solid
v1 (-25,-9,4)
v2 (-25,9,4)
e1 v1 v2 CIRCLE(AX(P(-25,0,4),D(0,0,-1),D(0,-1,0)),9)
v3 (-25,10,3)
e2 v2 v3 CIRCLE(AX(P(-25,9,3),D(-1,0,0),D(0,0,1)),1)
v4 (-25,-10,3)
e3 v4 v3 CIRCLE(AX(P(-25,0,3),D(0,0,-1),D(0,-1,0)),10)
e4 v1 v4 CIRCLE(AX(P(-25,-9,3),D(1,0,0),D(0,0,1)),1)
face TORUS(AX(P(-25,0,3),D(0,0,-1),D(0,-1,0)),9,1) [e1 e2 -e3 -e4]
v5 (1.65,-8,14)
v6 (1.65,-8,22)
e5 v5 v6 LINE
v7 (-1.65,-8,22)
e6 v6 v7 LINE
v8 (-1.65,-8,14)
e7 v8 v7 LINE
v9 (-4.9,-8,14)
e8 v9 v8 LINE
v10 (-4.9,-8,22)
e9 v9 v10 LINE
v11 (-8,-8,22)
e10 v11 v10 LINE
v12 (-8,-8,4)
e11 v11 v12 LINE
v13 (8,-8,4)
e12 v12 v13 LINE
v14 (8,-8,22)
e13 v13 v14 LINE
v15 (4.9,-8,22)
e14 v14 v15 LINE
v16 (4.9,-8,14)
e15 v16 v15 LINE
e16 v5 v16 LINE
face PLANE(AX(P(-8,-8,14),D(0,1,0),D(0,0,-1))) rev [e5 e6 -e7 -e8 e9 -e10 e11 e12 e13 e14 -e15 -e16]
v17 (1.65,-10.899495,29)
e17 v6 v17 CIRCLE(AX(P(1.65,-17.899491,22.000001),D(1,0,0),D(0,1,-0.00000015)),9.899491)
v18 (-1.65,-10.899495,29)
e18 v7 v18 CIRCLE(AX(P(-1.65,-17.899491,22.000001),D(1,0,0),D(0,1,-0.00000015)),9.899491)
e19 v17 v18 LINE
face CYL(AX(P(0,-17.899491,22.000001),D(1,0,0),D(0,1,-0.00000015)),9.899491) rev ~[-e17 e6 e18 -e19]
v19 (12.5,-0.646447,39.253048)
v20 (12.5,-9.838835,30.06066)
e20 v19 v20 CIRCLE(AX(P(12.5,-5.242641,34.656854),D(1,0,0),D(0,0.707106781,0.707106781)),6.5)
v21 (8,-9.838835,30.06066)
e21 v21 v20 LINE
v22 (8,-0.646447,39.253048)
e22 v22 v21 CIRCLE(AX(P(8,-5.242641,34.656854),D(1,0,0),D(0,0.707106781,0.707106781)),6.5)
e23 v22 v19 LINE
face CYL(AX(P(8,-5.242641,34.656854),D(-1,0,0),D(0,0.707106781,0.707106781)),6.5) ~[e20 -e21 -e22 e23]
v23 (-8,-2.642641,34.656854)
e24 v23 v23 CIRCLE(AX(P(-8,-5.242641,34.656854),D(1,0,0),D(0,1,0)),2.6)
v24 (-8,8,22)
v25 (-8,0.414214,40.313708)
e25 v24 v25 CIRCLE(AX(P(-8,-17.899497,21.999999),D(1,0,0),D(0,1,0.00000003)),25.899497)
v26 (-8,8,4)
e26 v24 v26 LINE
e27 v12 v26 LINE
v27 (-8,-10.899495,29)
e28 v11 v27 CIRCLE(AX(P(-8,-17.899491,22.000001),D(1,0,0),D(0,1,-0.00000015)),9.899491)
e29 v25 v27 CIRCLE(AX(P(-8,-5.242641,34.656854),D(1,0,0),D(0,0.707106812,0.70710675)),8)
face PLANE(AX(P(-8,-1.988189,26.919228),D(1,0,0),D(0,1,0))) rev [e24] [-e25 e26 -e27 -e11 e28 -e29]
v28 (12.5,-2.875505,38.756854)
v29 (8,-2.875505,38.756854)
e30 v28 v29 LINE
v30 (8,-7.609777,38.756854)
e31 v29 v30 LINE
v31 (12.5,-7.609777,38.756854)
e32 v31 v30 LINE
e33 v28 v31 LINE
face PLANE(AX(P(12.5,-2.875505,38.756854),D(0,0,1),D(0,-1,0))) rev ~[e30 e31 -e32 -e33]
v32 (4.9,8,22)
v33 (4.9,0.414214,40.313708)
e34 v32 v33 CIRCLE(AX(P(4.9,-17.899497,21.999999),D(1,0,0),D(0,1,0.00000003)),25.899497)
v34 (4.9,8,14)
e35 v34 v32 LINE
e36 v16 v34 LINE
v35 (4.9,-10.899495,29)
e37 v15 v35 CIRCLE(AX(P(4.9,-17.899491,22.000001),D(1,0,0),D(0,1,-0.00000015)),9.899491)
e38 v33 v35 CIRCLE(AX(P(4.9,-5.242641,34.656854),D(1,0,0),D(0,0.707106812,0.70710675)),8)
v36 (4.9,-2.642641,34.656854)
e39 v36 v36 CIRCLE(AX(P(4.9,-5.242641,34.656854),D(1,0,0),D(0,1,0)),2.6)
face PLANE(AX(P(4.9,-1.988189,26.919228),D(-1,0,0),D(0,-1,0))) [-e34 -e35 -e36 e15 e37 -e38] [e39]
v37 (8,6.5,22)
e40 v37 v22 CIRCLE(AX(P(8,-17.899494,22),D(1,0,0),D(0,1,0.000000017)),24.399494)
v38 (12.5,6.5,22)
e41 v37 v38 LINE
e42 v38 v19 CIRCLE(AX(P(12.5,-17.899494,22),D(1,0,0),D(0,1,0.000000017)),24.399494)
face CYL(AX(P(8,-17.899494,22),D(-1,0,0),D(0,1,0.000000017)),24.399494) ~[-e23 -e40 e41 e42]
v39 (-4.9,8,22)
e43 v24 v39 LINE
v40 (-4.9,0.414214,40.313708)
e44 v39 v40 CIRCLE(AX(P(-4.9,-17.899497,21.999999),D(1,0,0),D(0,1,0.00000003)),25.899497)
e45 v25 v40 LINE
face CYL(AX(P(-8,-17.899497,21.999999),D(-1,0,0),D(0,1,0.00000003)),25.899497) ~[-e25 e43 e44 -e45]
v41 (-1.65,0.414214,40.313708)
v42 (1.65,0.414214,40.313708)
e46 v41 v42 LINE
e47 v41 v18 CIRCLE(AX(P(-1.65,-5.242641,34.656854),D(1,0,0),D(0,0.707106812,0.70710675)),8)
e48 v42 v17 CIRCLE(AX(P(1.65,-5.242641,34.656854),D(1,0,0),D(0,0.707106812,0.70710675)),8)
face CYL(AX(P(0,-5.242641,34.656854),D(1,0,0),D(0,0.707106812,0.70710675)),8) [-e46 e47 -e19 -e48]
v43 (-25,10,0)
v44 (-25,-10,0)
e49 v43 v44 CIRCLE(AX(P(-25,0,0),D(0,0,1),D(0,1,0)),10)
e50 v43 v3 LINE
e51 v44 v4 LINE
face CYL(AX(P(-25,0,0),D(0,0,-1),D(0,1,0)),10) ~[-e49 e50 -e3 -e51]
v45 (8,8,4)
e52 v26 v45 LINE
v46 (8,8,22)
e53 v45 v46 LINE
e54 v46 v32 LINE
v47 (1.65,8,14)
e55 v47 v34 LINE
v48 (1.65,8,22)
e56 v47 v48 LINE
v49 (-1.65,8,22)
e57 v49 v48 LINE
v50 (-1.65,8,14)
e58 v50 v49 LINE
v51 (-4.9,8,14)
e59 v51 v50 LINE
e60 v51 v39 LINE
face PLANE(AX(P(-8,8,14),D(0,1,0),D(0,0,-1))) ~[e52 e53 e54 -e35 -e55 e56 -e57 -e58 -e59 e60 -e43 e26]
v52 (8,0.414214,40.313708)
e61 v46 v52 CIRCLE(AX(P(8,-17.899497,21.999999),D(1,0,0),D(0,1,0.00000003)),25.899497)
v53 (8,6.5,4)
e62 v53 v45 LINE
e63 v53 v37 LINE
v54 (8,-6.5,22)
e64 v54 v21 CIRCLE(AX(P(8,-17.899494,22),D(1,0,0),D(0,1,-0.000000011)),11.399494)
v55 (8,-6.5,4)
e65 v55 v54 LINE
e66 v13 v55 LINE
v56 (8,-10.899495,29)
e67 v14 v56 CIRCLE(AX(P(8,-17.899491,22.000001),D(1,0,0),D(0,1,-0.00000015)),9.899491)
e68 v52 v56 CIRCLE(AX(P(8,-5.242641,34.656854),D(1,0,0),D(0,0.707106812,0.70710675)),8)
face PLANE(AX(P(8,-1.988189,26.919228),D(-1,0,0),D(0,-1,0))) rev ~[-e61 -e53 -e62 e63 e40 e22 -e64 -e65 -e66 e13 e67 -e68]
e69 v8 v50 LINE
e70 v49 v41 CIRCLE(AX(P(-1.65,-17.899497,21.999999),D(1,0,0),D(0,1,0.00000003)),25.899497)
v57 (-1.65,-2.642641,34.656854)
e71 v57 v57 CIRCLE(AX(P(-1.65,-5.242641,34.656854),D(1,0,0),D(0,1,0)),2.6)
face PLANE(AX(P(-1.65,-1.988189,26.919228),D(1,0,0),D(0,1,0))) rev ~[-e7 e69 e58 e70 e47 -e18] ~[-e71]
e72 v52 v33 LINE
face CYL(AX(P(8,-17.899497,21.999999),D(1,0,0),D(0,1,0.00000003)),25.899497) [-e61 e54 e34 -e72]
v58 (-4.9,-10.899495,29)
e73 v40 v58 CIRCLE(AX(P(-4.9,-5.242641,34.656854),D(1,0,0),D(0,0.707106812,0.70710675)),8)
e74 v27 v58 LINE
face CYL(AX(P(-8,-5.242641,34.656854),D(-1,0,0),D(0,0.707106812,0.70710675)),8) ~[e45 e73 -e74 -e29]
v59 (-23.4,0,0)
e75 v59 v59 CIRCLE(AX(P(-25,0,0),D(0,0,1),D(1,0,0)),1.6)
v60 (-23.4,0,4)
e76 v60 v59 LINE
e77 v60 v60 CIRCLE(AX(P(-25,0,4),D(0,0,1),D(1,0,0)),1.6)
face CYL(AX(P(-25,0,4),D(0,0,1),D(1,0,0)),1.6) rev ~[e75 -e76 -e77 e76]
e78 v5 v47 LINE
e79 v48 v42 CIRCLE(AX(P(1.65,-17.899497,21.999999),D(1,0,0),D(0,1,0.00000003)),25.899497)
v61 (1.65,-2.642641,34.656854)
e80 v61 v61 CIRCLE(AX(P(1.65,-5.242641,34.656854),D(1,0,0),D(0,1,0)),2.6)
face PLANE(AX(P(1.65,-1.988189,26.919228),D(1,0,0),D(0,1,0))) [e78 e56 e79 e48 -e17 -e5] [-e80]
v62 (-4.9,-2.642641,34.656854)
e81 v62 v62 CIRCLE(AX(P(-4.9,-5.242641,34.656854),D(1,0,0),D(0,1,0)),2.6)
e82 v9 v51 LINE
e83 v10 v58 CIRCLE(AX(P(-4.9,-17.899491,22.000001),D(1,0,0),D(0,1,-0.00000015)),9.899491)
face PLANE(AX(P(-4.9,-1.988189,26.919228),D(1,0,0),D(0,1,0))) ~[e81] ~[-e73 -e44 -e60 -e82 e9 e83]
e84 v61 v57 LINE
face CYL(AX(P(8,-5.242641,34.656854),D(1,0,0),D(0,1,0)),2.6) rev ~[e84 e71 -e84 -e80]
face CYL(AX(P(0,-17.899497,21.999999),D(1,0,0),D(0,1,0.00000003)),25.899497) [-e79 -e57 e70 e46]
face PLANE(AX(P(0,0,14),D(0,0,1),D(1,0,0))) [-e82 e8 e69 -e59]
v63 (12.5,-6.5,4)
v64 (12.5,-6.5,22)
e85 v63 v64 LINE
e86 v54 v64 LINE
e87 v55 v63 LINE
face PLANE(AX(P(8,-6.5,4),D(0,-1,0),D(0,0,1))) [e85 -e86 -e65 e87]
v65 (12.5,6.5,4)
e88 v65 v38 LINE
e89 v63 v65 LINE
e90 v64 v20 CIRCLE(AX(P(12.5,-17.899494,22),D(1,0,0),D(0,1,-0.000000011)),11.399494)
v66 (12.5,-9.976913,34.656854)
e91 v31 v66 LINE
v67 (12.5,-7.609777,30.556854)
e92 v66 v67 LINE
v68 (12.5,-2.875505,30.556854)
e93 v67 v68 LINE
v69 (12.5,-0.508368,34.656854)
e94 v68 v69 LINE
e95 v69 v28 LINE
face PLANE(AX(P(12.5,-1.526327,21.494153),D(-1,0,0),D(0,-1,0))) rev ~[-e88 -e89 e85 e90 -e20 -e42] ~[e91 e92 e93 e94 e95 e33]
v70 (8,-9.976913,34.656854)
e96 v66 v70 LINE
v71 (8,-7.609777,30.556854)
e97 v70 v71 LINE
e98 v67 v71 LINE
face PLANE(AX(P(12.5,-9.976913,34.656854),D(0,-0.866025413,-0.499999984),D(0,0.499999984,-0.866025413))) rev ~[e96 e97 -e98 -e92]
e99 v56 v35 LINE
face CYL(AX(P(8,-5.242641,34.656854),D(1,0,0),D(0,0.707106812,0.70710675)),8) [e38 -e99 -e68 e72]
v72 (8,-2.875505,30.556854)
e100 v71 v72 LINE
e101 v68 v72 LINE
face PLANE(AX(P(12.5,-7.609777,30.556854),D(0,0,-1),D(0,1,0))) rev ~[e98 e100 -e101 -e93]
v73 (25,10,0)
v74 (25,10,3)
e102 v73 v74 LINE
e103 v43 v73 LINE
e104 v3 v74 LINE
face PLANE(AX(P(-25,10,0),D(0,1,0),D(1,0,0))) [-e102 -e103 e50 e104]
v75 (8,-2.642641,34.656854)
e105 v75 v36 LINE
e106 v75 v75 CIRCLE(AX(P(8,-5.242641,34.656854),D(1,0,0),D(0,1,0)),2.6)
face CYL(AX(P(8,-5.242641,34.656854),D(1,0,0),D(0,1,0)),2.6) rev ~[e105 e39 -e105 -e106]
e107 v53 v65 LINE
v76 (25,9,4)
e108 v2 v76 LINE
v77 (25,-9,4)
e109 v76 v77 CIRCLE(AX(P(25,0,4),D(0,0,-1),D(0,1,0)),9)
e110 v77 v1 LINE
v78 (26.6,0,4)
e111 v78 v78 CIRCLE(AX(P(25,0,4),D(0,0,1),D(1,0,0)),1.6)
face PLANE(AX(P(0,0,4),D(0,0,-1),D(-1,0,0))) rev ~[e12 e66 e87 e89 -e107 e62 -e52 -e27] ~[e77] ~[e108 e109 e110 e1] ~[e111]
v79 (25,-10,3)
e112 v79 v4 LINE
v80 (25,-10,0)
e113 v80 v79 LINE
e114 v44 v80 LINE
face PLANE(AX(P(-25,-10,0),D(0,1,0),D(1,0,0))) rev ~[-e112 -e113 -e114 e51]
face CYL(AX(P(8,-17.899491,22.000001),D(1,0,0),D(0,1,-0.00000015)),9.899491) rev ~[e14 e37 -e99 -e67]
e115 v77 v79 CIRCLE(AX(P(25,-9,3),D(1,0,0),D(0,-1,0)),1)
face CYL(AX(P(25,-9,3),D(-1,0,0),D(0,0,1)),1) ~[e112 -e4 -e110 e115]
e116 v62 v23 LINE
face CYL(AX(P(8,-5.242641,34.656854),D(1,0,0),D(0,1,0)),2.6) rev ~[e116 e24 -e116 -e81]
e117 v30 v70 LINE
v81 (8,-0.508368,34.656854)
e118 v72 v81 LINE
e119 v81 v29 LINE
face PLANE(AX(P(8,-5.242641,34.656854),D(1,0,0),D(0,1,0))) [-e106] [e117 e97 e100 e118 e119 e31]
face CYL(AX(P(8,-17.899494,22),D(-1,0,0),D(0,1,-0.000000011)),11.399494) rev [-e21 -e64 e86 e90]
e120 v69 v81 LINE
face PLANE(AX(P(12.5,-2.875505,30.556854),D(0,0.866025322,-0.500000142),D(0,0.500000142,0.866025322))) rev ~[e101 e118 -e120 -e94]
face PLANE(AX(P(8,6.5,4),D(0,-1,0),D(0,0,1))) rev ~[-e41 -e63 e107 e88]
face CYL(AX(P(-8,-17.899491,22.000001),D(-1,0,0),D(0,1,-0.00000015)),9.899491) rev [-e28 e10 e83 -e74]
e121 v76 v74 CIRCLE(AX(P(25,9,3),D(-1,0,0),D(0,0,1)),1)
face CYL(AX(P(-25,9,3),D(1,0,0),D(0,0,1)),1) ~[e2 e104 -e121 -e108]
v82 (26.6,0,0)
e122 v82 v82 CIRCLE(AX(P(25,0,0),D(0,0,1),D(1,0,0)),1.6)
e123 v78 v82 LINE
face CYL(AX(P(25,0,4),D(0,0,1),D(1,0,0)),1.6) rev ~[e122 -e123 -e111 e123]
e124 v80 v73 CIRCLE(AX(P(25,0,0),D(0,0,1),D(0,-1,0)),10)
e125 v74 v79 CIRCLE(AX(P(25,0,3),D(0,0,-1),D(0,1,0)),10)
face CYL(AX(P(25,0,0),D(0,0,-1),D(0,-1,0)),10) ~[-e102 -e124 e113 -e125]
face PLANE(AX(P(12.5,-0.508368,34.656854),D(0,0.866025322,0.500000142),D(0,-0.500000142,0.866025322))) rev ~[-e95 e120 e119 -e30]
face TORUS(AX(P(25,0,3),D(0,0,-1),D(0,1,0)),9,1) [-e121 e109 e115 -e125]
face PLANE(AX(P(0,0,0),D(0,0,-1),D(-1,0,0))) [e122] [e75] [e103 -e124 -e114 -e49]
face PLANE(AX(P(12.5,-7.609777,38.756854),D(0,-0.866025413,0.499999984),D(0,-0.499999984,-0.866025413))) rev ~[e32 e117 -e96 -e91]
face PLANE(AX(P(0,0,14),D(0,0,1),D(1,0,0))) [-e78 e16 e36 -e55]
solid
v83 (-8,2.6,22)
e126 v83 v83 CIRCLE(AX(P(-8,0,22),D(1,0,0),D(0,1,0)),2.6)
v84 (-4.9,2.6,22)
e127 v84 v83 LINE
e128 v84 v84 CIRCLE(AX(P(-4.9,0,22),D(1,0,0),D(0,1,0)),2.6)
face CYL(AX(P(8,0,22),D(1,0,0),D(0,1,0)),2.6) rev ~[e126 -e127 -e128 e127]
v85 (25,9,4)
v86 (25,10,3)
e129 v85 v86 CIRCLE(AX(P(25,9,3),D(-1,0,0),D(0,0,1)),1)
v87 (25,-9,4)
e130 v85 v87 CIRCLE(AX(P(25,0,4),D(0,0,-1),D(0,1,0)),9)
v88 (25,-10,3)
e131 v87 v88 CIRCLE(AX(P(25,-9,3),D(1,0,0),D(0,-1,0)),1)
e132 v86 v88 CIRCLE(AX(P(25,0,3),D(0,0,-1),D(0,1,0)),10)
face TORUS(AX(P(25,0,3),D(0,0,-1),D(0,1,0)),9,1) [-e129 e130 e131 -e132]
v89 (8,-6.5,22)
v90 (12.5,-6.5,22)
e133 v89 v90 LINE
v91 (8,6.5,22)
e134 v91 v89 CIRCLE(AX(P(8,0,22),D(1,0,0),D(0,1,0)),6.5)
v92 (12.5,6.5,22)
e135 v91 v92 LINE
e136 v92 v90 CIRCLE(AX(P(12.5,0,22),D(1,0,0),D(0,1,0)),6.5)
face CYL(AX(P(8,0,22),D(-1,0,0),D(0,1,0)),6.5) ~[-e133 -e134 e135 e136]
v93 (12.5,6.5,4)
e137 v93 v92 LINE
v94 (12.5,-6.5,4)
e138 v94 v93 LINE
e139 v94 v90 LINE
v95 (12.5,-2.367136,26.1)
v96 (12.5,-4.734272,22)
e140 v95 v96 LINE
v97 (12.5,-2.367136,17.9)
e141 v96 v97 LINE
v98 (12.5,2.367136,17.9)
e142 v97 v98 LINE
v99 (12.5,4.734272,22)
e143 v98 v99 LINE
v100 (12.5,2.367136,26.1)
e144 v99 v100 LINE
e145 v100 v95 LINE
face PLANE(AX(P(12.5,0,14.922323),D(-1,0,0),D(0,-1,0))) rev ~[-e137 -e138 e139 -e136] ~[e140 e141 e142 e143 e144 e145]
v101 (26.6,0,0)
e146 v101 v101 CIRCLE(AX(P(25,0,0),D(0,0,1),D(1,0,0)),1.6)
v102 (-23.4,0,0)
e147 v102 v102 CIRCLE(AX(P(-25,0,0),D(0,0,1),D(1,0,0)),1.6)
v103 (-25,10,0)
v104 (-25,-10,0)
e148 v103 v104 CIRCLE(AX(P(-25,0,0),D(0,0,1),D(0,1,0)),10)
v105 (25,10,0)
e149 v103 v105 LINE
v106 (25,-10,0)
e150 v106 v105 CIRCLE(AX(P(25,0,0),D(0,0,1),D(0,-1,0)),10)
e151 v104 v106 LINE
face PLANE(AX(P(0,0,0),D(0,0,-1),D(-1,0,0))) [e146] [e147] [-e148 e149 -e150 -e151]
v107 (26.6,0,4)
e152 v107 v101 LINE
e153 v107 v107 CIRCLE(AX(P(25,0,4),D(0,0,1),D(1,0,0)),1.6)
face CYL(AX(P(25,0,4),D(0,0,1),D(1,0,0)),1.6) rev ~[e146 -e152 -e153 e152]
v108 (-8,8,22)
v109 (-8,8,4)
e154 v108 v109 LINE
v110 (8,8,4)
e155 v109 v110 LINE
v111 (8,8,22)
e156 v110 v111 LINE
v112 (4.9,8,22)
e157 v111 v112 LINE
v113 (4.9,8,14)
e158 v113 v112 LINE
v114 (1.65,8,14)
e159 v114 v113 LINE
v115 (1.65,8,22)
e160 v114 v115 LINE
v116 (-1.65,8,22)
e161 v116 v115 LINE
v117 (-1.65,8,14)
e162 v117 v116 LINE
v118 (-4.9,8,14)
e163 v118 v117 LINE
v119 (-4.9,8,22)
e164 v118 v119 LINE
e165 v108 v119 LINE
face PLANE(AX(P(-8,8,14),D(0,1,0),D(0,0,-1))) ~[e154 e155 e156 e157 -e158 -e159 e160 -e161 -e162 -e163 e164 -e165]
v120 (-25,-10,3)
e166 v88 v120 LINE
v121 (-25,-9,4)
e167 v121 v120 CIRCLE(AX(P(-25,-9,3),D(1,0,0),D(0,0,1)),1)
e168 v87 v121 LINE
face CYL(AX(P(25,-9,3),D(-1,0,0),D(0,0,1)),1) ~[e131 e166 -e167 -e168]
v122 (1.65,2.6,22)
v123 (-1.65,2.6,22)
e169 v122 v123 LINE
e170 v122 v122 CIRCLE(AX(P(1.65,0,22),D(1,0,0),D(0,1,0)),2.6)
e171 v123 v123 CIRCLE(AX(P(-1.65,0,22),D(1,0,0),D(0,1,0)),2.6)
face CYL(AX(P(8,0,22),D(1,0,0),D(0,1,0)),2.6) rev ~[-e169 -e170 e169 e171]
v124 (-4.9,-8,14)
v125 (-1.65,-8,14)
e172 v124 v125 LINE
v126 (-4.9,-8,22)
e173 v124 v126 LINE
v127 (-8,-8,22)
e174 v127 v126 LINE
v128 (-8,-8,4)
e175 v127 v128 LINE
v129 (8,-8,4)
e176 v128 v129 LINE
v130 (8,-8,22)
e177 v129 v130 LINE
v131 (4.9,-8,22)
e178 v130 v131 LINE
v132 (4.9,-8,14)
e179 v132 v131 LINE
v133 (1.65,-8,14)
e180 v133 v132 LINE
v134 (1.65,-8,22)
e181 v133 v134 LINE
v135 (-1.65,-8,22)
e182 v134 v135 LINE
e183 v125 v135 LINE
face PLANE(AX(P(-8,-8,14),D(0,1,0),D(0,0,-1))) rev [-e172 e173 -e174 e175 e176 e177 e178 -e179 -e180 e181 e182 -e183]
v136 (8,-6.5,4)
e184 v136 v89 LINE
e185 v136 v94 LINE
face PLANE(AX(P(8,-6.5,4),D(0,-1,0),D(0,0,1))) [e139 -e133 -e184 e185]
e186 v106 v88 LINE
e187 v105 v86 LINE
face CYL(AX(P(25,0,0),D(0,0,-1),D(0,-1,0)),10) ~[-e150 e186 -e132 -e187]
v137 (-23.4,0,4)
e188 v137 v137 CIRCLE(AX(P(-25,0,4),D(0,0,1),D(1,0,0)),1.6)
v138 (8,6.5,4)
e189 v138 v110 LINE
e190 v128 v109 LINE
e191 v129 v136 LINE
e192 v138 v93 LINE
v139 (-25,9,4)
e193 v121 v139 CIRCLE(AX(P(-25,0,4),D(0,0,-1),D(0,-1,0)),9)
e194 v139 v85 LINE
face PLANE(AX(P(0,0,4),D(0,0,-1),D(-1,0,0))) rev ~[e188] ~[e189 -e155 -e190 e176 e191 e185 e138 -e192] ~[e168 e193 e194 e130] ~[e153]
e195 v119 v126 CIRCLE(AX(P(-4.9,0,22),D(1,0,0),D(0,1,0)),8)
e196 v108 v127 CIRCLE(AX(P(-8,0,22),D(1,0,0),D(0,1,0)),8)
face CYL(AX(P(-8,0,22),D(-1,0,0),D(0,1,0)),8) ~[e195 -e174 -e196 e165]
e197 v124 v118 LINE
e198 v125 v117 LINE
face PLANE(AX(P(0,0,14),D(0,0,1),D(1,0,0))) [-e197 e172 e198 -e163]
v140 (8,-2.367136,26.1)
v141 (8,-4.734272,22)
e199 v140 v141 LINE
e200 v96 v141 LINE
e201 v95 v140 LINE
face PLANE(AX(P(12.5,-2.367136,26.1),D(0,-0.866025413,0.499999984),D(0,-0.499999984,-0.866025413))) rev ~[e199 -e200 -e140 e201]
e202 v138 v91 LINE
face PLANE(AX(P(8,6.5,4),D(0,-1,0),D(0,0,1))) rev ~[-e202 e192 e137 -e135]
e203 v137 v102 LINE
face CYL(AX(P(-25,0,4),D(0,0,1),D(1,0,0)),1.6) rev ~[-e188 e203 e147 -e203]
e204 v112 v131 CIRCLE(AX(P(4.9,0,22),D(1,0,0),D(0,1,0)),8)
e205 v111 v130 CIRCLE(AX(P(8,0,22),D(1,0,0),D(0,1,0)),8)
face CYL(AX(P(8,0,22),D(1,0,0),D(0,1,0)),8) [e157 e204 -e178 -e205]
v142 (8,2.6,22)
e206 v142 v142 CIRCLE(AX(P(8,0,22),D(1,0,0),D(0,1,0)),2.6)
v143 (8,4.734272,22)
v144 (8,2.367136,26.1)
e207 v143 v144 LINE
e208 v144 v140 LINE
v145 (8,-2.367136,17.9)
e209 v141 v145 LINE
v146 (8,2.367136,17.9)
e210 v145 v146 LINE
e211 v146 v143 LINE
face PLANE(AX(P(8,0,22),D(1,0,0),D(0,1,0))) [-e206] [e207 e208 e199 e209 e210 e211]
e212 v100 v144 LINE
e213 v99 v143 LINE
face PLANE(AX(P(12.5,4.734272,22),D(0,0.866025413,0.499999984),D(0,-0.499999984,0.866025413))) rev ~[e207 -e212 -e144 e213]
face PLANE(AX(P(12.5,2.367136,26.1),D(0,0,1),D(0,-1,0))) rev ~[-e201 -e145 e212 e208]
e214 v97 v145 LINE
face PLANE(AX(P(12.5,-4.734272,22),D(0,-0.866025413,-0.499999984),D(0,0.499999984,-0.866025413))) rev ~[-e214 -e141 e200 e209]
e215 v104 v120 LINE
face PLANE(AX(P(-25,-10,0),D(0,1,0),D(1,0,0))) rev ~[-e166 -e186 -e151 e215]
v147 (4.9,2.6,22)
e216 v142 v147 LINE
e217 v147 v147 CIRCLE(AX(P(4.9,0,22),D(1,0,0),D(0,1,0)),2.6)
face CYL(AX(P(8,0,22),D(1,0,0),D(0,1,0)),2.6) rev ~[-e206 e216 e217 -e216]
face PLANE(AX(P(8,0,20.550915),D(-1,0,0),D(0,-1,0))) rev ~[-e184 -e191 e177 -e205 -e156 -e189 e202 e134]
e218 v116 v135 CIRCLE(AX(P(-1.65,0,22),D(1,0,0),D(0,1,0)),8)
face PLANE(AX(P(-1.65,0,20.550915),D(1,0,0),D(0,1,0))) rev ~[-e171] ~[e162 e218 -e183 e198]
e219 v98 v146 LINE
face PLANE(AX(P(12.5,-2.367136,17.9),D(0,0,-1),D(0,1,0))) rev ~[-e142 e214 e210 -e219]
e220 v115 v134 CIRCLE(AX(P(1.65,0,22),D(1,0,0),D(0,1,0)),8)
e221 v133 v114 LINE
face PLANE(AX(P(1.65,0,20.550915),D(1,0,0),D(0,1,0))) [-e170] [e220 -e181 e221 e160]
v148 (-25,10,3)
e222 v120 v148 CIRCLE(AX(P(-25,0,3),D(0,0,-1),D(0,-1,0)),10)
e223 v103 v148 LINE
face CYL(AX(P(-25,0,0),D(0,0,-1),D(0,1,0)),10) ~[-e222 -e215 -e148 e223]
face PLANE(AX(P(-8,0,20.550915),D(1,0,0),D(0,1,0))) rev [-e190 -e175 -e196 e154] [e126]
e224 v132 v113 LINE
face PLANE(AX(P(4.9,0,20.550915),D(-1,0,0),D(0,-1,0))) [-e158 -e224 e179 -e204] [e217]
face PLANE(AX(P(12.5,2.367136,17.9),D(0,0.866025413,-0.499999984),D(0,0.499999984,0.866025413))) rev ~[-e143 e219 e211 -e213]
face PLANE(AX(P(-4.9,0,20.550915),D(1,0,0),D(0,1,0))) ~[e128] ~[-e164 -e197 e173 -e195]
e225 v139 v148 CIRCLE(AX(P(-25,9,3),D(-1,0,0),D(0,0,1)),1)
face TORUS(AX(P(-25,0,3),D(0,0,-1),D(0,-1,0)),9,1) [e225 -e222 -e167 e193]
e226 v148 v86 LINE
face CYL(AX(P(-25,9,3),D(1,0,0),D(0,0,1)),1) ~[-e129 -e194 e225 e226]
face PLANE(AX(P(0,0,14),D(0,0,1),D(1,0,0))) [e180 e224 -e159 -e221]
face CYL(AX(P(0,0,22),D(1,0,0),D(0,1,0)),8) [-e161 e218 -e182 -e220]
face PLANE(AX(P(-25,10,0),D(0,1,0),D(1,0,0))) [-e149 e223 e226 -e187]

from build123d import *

# Parameters (mm, degrees)
PAD_DEPTH       = 4
SKETCH001_R     = 1.6
POCKET_DEPTH    = 4.001
SKETCH002_W     = 16
SKETCH002_H     = 16
PAD001_DEPTH    = 10
PAD002_DEPTH    = 3.1
PAD003_DEPTH    = 1.65
SKETCH005_R     = 2.6
POCKET001_DEPTH = 43.001
PAD004_DEPTH    = 4.5
POCKET002_DEPTH = 4.5
FILLET_R        = 1
PAD009_DEPTH    = 4
SKETCH013_R     = 1.6
POCKET004_DEPTH = 4.001
SKETCH014_W     = 16
SKETCH014_H     = 16
PAD008_DEPTH    = 10
PAD007_DEPTH    = 3.1
PAD005_DEPTH    = 1.65
SKETCH010_R     = 2.6
POCKET003_DEPTH = 43.001
PAD006_DEPTH    = 4.5
POCKET005_DEPTH = 4.5
FILLET001_R     = 1


with BuildPart() as straighttwoscrews:
    # Sketch → Pad (new body)
    with BuildSketch(Plane.XY):
        with BuildLine():
            Line((-25, 10), (25, 10))
            ThreePointArc((25, -10), (35, 0), (25, 10))
            Line((-25, -10), (25, -10))
            ThreePointArc((-25, 10), (-35, 0), (-25, -10))
        make_face()
    extrude(amount=PAD_DEPTH)

    # Sketch001 (on Face6 of Pad) → Pocket (cut, through all)
    with BuildSketch(Plane.XY.offset(4)):
        with Locations((-25, 0)):
            Circle(SKETCH001_R)
        with Locations((25, 0)):
            Circle(SKETCH001_R)
    extrude(amount=-POCKET_DEPTH, mode=Mode.SUBTRACT)

    # Sketch002 (on Face5 of Pocket) → Pad001 (join)
    with BuildSketch(Plane.XY.offset(4)):
        Rectangle(SKETCH002_W, SKETCH002_H)
    extrude(amount=PAD001_DEPTH)

    # Sketch003 (on Face9 of Pad001) → Pad002 (join)
    with BuildSketch(Plane.YZ.offset(8)):
        with BuildLine():
            Line((-8, 14), (-8, 22))
            ThreePointArc((8, 22), (0, 30), (-8, 22))
            Line((8, 14), (8, 22))
            Line((-8, 14), (8, 14))
        make_face()
    pad002 = extrude(amount=-PAD002_DEPTH)

    # Mirrored: Pad002 across YZ
    add(pad002.mirror(Plane.YZ))

    # Sketch004 → Pad003 (join, symmetric)
    with BuildSketch(Plane.YZ):
        with BuildLine():
            Line((-8, 14), (8, 14))
            Line((8, 14), (8, 22))
            ThreePointArc((8, 22), (0, 30), (-8, 22))
            Line((-8, 14), (-8, 22))
        make_face()
    extrude(amount=PAD003_DEPTH, both=True)

    # Sketch005 (on Face13 of Pad003) → Pocket001 (cut, through all)
    with BuildSketch(Plane.YZ.offset(8)):
        with Locations((0, 22)):
            Circle(SKETCH005_R)
    extrude(amount=-POCKET001_DEPTH, mode=Mode.SUBTRACT)

    # Sketch006 (on Face9 of Pocket001) → Pad004 (join)
    with BuildSketch(Plane.YZ.offset(8)):
        with BuildLine():
            Line((-6.5, 4), (-6.5, 22))
            ThreePointArc((6.5, 22), (0, 28.5), (-6.5, 22))
            Line((6.5, 4), (6.5, 22))
            Line((-6.5, 4), (6.5, 4))
        make_face()
    extrude(amount=PAD004_DEPTH)

    # Sketch007 (on Face14 of Pad004) → Pocket002 (cut)
    with BuildSketch(Plane.YZ.offset(12.5)):
        Polygon((2.367136, 26.1), (-2.367136, 26.1), (-4.734272, 22), (-2.367136, 17.9), (2.367136, 17.9), (4.734272, 22), align=None)
    extrude(amount=-POCKET002_DEPTH, mode=Mode.SUBTRACT)

    # Fillet
    fillet_edges = [straighttwoscrews.edges().sort_by_distance(p)[0] for p in [
        (0, 10, 4),
        (35, 0, 4),
        (0, -10, 4),
        (-35, 0, 4),
    ]]
    fillet(fillet_edges, radius=FILLET_R)


with BuildPart() as curvedtwoscrews001:
    # Sketch012 → Pad009 (new body)
    with BuildSketch(Plane.XY):
        with BuildLine():
            Line((-25, 10), (25, 10))
            ThreePointArc((25, -10), (35, 0), (25, 10))
            Line((-25, -10), (25, -10))
            ThreePointArc((-25, 10), (-35, 0), (-25, -10))
        make_face()
    extrude(amount=PAD009_DEPTH)

    # Sketch013 (on Face6 of Pad009) → Pocket004 (cut, through all)
    with BuildSketch(Plane.XY.offset(4)):
        with Locations((-25, 0)):
            Circle(SKETCH013_R)
        with Locations((25, 0)):
            Circle(SKETCH013_R)
    extrude(amount=-POCKET004_DEPTH, mode=Mode.SUBTRACT)

    # Sketch014 (on Face5 of Pocket004) → Pad008 (join)
    with BuildSketch(Plane.XY.offset(4)):
        Rectangle(SKETCH014_W, SKETCH014_H)
    extrude(amount=PAD008_DEPTH)

    # Sketch015 (on Face9 of Pad008) → Pad007 (join)
    with BuildSketch(Plane.YZ.offset(8)):
        with BuildLine():
            Line((-8, 14), (-8, 22))
            ThreePointArc((-8, 22), (-8.753554, 25.788373), (-10.899495, 29))
            ThreePointArc((0.414214, 40.313708), (-10.899495, 40.313708), (-10.899495, 29))
            ThreePointArc((8, 22), (6.028518, 31.911308), (0.414214, 40.313708))
            Line((8, 14), (8, 22))
            Line((-8, 14), (8, 14))
        make_face()
    pad007 = extrude(amount=-PAD007_DEPTH)

    # Mirrored001: Pad007 across YZ
    add(pad007.mirror(Plane.YZ))

    # Sketch011 → Pad005 (join, symmetric)
    with BuildSketch(Plane.YZ):
        with BuildLine():
            Line((-8, 14), (8, 14))
            Line((8, 14), (8, 22))
            ThreePointArc((8, 22), (6.028518, 31.911308), (0.414214, 40.313708))
            ThreePointArc((0.414214, 40.313708), (-10.899495, 40.313708), (-10.899495, 29))
            ThreePointArc((-8, 22), (-8.753554, 25.788373), (-10.899495, 29))
            Line((-8, 14), (-8, 22))
        make_face()
    extrude(amount=PAD005_DEPTH, both=True)

    # Sketch010 (on Face13 of Pad005) → Pocket003 (cut, through all)
    with BuildSketch(Plane.YZ.offset(8)):
        with Locations((-5.242641, 34.656854)):
            Circle(SKETCH010_R)
    extrude(amount=-POCKET003_DEPTH, mode=Mode.SUBTRACT)

    # Sketch009 (on Face9 of Pocket003) → Pad006 (join)
    with BuildSketch(Plane.YZ.offset(8)):
        with BuildLine():
            Line((-6.5, 4), (-6.5, 22))
            ThreePointArc((-6.5, 22), (-7.367735, 26.362398), (-9.838835, 30.06066))
            ThreePointArc((-0.646447, 39.253048), (-9.838835, 39.253048), (-9.838835, 30.06066))
            ThreePointArc((6.5, 22), (4.642699, 31.337282), (-0.646447, 39.253048))
            Line((6.5, 4), (6.5, 22))
            Line((-6.5, 4), (6.5, 4))
        make_face()
    extrude(amount=PAD006_DEPTH)

    # Sketch008 (on Face14 of Pad006) → Pocket005 (cut)
    with BuildSketch(Plane.YZ.offset(12.5)):
        Polygon((-2.875505, 38.756854), (-7.609777, 38.756854), (-9.976913, 34.656854), (-7.609777, 30.556854), (-2.875505, 30.556854), (-0.508368, 34.656854), align=None)
    extrude(amount=-POCKET005_DEPTH, mode=Mode.SUBTRACT)

    # Fillet001
    fillet001_edges = [curvedtwoscrews001.edges().sort_by_distance(p)[0] for p in [
        (0, 10, 4),
        (35, 0, 4),
        (0, -10, 4),
        (-35, 0, 4),
    ]]
    fillet(fillet001_edges, radius=FILLET001_R)


solid = Compound([straighttwoscrews.part, curvedtwoscrews001.part])
